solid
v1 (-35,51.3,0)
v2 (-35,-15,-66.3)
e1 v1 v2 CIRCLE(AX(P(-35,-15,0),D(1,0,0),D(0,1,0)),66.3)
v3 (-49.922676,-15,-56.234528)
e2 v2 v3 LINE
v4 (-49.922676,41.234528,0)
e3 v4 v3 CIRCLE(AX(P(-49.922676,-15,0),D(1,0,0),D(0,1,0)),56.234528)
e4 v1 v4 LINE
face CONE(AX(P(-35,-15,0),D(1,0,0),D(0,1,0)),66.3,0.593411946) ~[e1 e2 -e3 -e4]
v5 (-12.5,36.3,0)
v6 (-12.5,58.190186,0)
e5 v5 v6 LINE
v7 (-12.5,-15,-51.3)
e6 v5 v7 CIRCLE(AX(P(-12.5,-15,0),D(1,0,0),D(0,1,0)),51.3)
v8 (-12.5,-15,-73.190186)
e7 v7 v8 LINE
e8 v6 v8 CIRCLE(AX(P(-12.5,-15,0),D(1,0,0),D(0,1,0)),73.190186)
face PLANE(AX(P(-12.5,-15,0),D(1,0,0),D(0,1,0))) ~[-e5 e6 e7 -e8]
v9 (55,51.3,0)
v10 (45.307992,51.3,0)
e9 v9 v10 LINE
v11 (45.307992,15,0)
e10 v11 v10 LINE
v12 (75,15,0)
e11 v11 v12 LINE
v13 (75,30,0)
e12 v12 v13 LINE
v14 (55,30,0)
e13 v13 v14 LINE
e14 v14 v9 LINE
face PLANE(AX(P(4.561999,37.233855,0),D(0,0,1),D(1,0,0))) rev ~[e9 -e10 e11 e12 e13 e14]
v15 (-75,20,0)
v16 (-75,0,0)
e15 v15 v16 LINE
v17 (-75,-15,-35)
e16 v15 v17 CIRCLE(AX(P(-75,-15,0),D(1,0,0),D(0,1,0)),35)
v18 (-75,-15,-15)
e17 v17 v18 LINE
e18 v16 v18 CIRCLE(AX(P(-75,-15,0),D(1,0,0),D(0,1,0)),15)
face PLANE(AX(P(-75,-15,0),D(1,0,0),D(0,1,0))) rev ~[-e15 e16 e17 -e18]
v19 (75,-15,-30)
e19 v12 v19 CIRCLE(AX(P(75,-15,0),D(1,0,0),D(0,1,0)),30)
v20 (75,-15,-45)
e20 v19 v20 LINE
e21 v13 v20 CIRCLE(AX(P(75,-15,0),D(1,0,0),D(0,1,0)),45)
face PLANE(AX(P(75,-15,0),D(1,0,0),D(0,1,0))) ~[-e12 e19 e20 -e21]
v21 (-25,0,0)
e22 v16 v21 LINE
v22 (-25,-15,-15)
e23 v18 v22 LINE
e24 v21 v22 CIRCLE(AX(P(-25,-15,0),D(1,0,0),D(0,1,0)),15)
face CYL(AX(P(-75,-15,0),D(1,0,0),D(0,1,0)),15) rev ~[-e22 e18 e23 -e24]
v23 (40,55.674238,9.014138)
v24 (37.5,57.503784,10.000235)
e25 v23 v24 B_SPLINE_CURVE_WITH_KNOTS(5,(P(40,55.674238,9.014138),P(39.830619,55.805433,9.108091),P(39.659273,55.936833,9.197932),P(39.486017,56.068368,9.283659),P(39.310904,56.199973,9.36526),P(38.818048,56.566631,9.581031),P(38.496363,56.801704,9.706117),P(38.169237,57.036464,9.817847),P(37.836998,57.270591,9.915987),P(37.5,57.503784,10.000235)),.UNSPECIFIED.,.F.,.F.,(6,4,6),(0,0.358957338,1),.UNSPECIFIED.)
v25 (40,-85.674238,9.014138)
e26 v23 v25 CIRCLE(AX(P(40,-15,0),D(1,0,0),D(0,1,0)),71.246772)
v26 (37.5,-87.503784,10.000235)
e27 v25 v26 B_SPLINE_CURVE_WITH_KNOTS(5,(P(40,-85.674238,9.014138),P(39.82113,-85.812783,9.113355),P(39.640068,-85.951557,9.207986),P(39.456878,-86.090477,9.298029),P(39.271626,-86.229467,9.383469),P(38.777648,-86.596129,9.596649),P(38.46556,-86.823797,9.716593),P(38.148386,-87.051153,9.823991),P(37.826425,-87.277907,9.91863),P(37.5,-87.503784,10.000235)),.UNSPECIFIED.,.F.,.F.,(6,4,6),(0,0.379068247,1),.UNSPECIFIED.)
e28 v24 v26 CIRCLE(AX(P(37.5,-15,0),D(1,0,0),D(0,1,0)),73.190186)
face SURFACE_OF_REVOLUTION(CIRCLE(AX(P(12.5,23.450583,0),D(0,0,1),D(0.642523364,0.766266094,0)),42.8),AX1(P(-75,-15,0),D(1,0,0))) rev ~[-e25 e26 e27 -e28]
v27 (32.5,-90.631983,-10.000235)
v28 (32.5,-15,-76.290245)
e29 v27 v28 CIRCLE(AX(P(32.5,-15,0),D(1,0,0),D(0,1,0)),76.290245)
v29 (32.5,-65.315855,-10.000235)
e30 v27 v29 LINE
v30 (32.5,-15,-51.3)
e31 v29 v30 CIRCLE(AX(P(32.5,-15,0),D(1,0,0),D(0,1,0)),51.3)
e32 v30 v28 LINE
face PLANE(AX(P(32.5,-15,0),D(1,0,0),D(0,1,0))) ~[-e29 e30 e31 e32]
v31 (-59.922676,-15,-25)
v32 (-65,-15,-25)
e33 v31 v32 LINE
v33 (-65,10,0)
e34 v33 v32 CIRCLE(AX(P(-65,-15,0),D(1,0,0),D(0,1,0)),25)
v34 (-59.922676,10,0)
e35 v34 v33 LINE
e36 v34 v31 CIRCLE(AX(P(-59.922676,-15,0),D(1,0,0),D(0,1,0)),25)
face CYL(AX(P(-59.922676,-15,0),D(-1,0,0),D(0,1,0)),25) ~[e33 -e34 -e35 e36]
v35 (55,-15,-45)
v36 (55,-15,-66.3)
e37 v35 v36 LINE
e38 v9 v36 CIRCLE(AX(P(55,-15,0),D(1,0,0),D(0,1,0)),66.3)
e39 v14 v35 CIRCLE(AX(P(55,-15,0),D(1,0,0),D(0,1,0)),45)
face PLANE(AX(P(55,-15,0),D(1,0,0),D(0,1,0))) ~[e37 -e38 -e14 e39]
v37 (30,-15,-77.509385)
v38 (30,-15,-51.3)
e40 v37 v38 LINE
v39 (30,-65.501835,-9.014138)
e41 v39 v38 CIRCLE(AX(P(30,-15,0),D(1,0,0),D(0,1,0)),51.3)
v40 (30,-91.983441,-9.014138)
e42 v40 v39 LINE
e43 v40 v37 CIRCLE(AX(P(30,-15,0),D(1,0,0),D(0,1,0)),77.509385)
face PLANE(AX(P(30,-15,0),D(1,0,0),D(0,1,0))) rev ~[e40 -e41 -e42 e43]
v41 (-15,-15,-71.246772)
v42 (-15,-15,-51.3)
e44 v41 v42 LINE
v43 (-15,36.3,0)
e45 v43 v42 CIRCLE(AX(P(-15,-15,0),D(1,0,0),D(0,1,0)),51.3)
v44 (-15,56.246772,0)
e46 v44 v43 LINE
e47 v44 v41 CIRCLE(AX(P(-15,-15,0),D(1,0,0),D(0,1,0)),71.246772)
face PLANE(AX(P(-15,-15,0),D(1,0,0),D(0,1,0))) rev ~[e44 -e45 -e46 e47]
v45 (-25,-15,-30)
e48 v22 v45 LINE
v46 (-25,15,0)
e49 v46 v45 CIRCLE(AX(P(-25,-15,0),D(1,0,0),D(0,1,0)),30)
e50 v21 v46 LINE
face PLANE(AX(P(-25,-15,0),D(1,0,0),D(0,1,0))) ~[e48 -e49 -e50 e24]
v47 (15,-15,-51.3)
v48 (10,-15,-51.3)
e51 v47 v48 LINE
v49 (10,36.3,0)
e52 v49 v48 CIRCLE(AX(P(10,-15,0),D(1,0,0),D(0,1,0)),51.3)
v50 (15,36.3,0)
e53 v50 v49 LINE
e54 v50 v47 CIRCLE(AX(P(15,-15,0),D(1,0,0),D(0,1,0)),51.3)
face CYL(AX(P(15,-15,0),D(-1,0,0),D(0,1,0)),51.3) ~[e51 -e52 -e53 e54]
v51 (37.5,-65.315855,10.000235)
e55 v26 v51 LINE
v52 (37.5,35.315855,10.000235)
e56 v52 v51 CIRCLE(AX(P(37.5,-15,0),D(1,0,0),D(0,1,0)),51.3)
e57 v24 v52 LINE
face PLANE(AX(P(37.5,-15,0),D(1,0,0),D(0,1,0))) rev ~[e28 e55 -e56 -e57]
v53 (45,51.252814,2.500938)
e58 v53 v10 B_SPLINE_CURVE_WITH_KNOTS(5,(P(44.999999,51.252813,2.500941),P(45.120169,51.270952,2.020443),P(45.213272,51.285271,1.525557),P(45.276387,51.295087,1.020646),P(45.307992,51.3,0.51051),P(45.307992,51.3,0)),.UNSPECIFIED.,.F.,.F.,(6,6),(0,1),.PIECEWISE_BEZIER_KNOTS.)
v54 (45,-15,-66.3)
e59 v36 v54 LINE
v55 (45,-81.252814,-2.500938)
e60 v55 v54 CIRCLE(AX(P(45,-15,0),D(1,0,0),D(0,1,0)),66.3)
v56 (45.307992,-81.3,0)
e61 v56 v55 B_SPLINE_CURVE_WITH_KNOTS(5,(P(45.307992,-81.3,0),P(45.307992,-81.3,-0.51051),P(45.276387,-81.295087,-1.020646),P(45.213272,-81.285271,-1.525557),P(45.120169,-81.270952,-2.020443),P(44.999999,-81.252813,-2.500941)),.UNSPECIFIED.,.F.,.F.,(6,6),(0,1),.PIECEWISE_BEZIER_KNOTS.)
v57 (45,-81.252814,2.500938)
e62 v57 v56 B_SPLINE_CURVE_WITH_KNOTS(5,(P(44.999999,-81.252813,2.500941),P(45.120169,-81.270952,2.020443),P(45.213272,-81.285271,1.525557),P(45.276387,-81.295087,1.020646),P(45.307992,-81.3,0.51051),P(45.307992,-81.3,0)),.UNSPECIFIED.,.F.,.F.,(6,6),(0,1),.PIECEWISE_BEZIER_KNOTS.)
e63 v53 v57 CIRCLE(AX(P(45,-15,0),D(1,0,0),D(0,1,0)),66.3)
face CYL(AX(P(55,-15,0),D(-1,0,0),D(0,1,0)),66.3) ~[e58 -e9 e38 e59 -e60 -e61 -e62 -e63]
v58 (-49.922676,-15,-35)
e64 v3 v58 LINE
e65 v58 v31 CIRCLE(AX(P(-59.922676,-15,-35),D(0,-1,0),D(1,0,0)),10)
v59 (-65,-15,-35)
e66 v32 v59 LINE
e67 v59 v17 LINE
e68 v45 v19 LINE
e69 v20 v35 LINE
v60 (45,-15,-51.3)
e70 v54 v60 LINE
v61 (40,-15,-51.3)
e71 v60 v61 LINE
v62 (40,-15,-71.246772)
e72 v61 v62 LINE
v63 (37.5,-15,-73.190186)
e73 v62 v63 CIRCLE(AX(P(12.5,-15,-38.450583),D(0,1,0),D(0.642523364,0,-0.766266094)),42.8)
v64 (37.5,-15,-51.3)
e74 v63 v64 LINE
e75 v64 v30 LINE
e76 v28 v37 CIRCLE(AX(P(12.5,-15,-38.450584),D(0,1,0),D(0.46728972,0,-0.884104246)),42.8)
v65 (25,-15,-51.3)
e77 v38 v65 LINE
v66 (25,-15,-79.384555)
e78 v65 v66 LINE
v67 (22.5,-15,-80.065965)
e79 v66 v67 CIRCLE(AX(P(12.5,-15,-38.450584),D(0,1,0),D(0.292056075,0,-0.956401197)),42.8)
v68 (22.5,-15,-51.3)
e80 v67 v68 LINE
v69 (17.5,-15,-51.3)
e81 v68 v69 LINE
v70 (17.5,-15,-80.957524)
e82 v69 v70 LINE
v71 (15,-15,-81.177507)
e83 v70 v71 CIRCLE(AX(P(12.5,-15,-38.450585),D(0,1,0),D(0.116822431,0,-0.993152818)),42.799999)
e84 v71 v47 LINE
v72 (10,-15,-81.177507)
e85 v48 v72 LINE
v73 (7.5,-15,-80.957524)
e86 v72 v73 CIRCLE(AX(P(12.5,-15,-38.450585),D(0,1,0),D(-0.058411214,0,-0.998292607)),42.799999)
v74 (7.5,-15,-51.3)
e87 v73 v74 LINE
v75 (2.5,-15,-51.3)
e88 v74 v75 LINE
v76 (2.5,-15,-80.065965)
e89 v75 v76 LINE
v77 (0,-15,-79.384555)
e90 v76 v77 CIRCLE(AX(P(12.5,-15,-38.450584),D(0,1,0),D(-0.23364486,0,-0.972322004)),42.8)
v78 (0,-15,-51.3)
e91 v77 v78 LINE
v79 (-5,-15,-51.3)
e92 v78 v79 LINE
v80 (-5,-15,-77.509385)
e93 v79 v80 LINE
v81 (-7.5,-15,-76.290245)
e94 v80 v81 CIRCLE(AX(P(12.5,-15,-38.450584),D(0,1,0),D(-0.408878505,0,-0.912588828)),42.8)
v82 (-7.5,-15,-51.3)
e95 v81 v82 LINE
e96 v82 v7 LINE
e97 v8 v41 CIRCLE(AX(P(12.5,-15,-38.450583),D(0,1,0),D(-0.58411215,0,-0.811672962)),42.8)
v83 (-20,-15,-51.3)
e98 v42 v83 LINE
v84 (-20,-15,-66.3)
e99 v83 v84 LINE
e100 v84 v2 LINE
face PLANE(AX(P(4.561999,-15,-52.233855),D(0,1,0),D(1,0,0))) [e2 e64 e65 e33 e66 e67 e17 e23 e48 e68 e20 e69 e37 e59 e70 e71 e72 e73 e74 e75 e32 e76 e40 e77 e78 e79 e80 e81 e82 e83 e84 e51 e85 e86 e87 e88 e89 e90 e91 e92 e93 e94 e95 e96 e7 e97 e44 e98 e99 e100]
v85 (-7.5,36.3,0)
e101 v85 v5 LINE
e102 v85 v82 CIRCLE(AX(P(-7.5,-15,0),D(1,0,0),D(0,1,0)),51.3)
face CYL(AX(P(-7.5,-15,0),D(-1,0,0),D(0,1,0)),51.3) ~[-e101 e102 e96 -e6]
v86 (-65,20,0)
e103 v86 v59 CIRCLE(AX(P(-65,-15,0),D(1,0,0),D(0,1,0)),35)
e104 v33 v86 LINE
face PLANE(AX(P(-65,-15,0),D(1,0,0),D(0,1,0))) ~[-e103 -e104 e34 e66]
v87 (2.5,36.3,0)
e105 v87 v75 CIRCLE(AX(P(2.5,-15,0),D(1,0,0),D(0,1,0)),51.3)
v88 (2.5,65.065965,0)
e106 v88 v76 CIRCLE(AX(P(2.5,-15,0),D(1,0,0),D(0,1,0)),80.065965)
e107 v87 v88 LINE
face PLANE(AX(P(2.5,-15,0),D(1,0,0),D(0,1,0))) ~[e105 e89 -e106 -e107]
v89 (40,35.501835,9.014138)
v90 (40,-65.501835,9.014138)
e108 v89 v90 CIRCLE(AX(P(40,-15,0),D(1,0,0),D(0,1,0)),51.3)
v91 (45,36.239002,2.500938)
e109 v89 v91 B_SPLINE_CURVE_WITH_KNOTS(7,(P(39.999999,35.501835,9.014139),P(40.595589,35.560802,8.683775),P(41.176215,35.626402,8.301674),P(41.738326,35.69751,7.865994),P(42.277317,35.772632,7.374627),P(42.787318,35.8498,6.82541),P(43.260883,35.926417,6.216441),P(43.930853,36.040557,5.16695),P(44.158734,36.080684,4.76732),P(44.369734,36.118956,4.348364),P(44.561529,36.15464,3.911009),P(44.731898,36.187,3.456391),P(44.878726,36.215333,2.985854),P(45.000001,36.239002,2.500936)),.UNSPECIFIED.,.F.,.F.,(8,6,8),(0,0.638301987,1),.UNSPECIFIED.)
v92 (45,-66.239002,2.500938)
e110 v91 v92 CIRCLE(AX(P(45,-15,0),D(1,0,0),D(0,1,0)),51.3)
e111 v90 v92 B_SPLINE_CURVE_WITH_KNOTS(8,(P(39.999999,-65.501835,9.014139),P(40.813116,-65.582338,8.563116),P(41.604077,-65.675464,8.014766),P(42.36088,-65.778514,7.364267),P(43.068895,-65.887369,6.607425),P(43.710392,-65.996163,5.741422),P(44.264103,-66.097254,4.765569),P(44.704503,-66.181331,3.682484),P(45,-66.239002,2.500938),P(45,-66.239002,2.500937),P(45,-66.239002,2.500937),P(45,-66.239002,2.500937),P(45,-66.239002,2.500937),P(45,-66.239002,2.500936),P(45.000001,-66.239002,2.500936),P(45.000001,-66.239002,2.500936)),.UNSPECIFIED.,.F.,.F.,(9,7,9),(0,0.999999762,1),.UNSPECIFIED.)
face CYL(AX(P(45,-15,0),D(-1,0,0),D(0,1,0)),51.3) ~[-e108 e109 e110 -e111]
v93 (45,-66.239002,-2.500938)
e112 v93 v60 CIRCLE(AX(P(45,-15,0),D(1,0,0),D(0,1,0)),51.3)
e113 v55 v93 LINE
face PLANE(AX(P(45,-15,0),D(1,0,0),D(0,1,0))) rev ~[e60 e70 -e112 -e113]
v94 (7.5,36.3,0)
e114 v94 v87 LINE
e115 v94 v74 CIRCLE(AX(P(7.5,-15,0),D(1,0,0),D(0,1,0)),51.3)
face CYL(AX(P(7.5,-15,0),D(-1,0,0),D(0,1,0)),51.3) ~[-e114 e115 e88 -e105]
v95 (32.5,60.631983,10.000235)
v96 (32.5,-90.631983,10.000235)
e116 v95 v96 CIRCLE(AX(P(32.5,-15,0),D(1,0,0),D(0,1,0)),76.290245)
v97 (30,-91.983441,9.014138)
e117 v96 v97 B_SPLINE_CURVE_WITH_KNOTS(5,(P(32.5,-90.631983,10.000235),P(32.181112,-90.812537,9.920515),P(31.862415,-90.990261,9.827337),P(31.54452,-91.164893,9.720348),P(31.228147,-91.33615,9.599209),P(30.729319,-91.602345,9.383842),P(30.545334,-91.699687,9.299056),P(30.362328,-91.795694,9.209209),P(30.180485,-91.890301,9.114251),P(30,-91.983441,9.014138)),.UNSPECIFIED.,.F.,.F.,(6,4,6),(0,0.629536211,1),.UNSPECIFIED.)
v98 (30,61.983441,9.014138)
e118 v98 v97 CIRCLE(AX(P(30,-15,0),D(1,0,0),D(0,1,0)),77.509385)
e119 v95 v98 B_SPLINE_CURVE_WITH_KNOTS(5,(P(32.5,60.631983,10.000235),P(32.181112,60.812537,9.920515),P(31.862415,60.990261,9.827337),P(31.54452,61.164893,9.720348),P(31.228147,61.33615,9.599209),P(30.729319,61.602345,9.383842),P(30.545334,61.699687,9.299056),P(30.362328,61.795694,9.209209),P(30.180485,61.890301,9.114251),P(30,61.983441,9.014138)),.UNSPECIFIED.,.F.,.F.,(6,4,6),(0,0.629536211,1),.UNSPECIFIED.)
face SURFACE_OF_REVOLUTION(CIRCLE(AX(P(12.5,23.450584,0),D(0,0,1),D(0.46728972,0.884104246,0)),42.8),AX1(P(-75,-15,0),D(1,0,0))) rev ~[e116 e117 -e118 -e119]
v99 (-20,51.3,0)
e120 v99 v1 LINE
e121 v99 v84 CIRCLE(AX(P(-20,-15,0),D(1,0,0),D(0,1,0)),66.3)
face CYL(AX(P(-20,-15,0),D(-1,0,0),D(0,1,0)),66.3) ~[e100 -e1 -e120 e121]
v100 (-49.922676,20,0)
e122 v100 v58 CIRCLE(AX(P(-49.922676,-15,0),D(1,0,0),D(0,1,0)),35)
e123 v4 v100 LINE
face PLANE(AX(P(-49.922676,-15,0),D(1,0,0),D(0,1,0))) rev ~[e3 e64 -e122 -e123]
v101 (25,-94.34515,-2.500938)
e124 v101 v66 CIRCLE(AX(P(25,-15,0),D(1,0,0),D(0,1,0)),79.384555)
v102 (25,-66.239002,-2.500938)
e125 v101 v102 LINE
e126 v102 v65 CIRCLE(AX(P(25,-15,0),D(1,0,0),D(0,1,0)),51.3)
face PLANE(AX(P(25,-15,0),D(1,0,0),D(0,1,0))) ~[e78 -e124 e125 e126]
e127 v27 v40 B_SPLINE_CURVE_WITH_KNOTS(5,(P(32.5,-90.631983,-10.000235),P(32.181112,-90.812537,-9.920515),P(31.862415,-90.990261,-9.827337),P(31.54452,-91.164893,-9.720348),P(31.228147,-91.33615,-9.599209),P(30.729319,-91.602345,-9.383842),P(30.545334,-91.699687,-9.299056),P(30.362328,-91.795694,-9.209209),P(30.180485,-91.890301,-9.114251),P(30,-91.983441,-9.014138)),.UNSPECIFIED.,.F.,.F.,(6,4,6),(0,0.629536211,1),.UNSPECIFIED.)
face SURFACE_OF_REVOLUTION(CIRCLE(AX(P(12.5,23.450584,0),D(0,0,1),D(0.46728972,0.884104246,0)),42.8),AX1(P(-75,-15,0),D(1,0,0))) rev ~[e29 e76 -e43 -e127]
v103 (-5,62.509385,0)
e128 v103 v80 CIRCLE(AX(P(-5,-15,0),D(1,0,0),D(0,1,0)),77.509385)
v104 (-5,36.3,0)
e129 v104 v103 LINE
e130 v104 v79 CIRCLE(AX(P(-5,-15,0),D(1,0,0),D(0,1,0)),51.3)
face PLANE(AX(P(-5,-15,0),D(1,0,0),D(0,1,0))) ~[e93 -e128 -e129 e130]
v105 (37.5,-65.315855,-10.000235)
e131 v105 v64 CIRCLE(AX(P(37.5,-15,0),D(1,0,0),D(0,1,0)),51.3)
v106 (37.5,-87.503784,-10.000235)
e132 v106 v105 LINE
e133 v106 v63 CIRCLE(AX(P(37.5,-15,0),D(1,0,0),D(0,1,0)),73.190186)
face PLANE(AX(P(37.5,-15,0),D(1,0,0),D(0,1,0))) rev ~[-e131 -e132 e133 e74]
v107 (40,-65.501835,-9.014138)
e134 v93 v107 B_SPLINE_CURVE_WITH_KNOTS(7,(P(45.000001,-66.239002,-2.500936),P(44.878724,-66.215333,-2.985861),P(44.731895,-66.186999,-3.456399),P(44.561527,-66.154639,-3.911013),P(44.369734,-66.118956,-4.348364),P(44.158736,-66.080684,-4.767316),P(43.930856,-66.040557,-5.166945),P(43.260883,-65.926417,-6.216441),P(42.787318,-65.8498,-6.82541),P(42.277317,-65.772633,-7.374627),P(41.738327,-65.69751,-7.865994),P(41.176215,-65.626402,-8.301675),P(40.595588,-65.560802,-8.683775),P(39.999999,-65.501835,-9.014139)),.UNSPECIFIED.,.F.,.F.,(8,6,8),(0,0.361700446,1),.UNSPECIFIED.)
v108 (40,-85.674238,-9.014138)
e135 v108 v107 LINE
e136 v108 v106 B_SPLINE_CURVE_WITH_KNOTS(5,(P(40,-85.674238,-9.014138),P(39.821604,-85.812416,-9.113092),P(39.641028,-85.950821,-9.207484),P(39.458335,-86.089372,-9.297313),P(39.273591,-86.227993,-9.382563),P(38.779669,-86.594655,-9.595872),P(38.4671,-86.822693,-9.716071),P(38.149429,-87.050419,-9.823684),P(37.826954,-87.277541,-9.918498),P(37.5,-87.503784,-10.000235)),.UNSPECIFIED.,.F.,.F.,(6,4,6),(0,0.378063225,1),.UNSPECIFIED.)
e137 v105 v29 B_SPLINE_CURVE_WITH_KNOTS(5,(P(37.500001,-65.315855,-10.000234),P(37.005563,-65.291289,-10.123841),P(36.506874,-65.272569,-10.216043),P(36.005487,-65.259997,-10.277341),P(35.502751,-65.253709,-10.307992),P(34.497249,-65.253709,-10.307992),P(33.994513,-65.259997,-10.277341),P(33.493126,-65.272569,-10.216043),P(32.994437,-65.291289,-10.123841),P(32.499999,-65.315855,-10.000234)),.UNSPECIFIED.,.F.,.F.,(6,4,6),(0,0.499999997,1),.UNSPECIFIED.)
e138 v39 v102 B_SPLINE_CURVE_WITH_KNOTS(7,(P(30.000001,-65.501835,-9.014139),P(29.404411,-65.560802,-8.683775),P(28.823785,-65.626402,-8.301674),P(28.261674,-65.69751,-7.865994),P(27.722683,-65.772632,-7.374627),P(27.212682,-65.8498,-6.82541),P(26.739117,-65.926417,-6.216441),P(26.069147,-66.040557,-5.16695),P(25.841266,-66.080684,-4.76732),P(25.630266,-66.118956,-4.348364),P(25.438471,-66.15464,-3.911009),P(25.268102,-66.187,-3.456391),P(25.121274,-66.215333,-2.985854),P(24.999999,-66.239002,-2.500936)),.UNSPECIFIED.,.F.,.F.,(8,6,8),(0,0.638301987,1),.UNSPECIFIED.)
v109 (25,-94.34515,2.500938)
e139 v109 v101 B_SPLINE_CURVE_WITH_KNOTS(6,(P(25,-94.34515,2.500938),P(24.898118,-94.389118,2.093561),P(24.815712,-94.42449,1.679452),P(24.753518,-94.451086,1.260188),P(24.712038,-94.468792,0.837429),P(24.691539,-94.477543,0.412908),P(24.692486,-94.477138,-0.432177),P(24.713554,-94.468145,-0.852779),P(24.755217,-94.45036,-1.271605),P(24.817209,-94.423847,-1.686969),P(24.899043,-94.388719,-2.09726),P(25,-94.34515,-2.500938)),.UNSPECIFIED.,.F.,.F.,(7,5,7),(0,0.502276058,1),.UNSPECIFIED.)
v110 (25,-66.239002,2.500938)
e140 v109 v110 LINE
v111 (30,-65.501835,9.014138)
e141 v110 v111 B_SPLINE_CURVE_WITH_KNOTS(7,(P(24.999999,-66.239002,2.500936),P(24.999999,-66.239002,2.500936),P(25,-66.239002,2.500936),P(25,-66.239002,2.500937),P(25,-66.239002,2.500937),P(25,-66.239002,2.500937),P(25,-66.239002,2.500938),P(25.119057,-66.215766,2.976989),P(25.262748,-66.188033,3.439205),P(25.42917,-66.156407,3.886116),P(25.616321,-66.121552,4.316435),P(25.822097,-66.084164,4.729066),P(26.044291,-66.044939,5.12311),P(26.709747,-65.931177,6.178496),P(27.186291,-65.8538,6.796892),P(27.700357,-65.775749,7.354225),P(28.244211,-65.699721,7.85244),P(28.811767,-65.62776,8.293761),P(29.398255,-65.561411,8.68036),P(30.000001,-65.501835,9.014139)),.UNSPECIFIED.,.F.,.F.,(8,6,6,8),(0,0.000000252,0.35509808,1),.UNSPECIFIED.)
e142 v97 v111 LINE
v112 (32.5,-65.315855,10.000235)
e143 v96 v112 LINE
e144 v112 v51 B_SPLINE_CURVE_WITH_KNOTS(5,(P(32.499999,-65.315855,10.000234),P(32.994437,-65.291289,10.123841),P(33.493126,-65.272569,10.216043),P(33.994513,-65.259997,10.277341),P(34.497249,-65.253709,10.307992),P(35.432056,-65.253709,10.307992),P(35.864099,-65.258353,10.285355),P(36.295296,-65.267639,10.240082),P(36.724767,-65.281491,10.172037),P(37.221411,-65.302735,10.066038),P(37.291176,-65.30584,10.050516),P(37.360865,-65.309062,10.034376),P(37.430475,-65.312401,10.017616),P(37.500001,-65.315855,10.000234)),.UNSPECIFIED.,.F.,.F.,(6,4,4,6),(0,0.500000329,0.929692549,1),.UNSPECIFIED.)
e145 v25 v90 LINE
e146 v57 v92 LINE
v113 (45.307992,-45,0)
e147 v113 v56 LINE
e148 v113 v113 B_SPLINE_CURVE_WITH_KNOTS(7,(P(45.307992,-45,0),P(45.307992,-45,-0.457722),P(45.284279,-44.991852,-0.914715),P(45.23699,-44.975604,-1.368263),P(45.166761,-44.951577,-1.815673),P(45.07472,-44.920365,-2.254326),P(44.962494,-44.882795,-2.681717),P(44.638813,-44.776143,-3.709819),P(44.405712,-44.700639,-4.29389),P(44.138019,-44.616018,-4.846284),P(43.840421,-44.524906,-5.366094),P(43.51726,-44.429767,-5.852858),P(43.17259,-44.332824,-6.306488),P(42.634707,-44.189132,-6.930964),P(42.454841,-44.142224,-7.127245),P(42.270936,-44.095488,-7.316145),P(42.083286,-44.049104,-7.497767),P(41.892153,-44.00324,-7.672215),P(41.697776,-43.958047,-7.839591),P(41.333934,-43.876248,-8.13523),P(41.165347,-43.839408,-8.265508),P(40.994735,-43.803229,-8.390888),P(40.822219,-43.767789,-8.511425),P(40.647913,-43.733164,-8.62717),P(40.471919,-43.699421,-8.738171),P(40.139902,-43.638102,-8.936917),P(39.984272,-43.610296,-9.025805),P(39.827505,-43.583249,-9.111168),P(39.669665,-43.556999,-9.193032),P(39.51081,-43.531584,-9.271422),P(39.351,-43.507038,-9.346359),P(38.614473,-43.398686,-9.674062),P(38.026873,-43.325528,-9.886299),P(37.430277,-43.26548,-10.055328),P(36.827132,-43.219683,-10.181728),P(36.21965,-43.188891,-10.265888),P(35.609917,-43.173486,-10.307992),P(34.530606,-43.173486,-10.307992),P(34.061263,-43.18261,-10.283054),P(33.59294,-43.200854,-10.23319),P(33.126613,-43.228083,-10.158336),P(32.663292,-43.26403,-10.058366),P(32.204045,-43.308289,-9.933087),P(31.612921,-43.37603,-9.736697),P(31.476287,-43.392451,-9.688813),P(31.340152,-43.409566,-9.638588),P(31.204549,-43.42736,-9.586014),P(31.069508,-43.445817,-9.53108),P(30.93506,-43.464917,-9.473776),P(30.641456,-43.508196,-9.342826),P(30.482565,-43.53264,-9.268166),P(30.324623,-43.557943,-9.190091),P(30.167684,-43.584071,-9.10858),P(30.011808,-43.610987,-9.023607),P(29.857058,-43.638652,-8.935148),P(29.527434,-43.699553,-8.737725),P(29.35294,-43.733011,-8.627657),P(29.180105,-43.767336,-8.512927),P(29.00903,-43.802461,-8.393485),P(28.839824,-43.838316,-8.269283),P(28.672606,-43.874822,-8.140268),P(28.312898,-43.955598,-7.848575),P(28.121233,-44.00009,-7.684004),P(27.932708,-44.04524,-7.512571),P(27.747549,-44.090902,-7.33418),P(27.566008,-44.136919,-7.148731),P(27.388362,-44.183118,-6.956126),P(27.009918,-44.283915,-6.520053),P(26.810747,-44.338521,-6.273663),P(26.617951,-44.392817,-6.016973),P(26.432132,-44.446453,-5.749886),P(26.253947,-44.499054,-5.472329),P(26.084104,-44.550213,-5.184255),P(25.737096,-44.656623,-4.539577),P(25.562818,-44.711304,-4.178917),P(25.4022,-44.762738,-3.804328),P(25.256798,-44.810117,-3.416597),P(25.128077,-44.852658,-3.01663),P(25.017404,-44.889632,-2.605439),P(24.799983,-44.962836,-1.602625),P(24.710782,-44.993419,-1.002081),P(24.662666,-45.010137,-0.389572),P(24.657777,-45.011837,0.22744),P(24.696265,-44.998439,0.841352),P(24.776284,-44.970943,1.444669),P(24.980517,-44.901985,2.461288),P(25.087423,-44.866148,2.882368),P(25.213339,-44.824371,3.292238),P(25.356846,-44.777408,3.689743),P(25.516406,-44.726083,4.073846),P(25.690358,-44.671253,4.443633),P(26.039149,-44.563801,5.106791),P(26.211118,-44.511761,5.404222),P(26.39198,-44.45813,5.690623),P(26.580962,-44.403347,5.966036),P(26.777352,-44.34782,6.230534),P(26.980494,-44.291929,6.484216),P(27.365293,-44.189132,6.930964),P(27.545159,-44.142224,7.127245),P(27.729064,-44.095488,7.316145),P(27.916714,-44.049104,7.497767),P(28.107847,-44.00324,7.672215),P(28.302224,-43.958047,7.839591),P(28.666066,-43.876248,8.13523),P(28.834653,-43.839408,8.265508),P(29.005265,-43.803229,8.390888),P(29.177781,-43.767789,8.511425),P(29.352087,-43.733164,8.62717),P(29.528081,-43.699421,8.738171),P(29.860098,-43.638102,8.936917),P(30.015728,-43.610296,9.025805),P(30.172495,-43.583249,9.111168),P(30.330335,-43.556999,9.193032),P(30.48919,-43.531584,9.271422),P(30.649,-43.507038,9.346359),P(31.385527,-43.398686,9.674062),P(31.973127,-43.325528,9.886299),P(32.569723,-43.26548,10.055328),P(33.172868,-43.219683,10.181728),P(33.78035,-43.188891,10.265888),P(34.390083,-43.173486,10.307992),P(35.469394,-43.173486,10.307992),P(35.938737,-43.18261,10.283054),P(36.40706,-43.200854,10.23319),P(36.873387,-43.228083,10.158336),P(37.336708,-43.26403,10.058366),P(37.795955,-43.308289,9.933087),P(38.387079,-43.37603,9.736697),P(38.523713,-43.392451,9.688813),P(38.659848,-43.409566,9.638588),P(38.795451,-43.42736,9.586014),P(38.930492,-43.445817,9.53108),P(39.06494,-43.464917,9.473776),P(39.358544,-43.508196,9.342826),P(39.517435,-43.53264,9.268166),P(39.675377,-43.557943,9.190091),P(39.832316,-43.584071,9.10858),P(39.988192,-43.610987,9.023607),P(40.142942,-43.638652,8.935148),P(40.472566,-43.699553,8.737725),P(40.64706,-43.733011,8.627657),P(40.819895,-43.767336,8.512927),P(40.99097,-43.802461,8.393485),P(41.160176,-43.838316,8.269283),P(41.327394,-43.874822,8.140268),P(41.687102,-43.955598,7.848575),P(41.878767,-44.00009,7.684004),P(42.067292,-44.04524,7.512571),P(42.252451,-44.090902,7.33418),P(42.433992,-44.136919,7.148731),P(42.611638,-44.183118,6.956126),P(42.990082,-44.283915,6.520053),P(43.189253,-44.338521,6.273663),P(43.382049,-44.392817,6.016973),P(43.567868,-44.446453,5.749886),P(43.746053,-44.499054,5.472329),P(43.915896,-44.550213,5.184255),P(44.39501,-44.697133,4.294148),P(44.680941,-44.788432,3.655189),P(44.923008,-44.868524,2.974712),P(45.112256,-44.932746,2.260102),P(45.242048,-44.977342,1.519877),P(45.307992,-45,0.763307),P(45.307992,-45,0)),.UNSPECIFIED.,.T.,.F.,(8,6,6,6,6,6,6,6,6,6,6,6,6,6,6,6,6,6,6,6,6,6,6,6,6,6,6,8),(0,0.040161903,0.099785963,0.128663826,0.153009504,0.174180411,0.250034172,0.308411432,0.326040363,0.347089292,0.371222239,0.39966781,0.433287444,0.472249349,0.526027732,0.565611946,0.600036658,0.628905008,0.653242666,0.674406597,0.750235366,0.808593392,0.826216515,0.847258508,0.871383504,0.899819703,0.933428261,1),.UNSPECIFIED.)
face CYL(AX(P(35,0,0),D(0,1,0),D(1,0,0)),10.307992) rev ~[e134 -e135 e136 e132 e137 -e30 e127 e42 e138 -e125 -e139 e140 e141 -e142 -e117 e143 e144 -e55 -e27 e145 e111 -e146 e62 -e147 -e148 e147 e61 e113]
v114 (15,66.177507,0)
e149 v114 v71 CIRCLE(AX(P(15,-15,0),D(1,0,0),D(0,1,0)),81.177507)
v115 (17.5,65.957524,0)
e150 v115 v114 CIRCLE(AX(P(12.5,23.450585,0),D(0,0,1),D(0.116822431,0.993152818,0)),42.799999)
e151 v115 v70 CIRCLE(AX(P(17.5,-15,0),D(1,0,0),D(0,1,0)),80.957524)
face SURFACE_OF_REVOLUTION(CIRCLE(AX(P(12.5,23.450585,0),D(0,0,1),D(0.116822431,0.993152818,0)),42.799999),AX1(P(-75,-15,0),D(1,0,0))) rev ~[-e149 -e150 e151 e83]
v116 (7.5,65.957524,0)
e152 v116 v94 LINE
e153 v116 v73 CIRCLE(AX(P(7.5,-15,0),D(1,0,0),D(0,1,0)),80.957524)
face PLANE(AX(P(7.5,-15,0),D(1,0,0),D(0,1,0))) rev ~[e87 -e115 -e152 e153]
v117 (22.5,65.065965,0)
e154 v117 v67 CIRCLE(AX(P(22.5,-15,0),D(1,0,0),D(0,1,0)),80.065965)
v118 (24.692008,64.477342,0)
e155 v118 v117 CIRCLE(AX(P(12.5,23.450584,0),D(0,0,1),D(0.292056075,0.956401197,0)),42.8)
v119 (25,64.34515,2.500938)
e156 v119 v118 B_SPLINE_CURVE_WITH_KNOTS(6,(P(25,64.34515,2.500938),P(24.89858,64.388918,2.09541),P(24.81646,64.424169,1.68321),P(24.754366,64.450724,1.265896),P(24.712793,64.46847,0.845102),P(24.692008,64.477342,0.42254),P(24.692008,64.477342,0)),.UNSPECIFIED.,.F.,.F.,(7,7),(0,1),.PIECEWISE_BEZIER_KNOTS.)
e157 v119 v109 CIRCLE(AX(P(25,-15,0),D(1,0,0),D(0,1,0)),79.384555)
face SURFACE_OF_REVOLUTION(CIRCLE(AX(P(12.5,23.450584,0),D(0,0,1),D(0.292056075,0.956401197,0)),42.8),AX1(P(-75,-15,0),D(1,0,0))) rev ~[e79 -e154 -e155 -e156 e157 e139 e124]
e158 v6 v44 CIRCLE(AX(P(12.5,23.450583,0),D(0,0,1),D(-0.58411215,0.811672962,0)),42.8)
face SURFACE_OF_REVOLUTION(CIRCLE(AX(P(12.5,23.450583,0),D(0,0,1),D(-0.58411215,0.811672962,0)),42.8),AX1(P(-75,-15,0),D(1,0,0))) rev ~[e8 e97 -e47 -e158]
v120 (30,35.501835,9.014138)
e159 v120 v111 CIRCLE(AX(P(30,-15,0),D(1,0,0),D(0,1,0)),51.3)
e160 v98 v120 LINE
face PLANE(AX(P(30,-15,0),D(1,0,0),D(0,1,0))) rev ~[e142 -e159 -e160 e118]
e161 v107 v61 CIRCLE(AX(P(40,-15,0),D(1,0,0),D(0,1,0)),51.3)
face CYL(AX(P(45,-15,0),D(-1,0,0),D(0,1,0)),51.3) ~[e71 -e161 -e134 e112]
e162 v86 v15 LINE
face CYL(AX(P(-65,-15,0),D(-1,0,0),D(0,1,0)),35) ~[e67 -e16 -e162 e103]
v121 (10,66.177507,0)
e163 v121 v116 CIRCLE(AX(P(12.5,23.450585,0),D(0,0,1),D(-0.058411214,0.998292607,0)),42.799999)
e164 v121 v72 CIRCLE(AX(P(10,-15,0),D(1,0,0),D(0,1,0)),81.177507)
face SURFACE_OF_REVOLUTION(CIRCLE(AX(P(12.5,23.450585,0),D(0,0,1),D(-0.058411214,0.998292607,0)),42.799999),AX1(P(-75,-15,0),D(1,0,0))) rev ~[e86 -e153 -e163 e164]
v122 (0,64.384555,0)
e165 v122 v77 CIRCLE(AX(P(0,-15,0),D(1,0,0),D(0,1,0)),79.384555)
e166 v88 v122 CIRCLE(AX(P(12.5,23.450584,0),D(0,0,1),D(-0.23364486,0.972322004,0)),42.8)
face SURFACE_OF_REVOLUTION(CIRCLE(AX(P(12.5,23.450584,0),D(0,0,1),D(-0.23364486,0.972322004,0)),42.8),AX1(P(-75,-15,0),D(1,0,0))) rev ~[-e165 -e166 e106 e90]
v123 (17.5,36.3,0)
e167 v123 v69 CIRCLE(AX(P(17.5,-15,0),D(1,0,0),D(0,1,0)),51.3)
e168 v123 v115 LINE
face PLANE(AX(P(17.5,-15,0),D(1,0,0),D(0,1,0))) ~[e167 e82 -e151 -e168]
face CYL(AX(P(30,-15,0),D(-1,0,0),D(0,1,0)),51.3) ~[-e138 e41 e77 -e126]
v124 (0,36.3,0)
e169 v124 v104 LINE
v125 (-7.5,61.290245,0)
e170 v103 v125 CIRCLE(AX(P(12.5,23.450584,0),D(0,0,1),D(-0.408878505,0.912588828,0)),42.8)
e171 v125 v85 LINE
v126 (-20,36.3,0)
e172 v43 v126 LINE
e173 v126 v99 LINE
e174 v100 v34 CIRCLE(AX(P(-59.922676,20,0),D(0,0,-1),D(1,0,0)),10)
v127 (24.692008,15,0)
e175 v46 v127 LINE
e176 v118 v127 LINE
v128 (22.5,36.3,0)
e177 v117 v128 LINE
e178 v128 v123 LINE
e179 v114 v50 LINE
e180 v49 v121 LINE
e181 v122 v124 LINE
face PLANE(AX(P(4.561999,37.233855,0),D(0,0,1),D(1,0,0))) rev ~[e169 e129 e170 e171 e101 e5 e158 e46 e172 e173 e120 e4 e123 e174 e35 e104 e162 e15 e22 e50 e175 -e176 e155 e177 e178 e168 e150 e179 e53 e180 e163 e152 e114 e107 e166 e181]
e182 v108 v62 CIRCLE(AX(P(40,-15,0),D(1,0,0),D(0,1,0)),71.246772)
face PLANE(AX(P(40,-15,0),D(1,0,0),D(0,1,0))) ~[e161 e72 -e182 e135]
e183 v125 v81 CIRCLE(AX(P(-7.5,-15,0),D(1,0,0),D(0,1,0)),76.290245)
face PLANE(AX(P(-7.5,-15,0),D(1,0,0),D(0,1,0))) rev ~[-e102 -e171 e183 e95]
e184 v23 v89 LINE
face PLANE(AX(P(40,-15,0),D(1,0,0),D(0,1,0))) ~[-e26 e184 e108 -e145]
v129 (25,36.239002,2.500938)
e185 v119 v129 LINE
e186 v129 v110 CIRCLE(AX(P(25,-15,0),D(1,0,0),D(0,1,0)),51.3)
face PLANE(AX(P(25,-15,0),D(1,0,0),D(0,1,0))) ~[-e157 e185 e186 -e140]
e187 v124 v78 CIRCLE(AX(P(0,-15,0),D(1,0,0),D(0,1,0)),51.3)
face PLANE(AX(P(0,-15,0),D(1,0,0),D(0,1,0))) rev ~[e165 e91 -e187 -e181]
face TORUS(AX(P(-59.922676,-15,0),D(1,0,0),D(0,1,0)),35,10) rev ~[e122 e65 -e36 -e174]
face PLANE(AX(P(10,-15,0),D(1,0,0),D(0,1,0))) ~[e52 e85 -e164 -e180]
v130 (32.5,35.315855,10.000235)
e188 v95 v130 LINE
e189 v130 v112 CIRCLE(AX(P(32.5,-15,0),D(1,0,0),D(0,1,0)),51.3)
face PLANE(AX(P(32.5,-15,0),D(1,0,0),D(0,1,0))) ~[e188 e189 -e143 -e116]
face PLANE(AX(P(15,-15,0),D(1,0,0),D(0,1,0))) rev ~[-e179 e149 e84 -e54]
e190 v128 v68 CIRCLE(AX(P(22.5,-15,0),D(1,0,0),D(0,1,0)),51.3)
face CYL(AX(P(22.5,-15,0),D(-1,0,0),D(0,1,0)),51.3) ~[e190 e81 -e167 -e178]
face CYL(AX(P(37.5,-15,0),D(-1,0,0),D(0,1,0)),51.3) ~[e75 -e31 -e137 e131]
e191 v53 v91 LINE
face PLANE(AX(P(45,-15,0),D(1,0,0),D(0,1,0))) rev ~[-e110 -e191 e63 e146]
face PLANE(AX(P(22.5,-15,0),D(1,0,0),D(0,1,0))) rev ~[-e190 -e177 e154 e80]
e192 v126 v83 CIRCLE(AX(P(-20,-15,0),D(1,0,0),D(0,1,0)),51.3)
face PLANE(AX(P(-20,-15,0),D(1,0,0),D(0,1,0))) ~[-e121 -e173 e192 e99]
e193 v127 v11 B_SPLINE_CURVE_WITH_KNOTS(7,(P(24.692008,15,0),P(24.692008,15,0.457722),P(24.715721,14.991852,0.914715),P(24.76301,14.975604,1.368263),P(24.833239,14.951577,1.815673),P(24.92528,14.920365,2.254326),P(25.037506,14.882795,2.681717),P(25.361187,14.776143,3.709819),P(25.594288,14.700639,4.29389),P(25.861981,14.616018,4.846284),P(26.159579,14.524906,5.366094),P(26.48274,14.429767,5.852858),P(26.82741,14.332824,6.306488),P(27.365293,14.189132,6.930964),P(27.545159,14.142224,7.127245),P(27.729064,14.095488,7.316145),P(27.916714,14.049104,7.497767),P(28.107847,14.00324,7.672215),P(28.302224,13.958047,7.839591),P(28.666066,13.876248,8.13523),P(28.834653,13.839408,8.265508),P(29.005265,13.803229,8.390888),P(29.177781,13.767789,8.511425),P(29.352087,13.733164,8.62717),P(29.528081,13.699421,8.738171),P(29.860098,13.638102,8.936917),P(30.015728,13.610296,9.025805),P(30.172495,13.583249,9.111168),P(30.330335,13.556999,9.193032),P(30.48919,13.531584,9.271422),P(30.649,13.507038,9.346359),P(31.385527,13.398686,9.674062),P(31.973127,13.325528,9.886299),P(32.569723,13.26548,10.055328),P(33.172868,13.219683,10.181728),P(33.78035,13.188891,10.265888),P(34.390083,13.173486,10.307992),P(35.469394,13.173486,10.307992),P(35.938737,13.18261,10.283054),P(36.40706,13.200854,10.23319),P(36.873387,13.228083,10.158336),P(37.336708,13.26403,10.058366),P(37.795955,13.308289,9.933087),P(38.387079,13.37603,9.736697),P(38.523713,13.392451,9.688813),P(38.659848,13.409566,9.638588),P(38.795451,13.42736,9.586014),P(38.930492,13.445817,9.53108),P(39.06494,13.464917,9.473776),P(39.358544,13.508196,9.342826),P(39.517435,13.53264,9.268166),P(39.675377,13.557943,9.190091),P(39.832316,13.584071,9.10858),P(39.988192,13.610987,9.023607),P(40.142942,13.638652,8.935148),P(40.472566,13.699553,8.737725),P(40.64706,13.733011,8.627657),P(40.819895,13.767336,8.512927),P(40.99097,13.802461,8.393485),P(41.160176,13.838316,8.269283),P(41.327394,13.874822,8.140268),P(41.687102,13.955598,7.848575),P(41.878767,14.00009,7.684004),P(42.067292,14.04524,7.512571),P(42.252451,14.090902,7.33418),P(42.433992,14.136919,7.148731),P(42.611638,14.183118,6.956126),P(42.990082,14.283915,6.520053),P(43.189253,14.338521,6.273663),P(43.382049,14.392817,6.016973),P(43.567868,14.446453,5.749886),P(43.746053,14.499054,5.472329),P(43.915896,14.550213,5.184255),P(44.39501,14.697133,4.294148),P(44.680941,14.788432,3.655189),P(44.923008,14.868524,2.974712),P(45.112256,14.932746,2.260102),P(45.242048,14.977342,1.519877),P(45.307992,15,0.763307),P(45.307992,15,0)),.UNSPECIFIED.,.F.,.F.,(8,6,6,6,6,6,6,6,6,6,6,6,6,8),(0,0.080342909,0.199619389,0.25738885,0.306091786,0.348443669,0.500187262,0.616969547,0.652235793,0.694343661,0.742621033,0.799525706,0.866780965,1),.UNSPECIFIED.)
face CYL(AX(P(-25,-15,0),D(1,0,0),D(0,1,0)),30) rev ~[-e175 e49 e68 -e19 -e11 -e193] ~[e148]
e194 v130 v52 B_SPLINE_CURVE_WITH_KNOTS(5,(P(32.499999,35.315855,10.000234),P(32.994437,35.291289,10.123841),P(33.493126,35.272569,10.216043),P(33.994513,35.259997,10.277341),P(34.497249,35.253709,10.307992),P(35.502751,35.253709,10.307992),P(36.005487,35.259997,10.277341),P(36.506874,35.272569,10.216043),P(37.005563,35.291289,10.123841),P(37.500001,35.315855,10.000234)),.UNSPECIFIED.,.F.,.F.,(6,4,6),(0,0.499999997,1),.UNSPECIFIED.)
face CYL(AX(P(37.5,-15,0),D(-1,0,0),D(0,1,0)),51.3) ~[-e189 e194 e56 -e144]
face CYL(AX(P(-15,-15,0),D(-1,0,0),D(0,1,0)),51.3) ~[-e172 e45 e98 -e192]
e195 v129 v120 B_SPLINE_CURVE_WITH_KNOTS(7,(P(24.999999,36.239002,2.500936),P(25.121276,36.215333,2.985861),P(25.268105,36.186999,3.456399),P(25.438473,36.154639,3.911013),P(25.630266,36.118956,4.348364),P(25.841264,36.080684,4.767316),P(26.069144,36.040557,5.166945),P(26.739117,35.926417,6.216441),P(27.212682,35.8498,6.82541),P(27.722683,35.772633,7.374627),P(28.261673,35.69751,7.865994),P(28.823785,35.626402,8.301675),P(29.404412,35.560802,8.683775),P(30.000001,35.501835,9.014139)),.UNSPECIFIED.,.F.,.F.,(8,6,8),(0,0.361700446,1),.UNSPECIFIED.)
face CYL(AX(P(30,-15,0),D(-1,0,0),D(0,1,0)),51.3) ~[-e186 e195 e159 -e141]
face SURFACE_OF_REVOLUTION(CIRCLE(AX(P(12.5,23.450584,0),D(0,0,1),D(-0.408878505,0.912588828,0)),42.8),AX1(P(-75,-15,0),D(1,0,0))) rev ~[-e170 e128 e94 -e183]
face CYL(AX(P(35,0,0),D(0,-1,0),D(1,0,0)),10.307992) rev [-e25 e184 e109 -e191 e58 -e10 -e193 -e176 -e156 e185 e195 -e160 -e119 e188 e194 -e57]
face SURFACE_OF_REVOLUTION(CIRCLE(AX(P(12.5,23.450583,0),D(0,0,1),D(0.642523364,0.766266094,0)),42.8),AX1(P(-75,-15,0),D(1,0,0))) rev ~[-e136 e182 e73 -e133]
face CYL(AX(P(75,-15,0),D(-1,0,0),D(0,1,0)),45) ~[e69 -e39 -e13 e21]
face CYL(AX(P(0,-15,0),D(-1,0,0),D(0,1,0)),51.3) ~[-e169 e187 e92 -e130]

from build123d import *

# Parameters (mm, degrees)
REVOLUCI_N2_ANGLE     = 270
CROQUIS12_R           = 10.307991632
CORTAR_EXTRUIR1_DEPTH = 67.177507085
CROQUIS12_2_R         = 10.307991632
CORTAR_EXTRUIR2_DEPTH = 97.177507085


with BuildPart() as part:
    # Croquis2 → Revolución2 (revolve)
    with BuildSketch(Plane.XY):
        with BuildLine():
            Line((-25, 0), (-25, 15))
            Line((-25, 15), (75, 15))
            Line((75, 15), (75, 30))
            Line((75, 30), (55, 30))
            Line((55, 30), (55, 51.3))
            Line((55, 51.3), (45, 51.3))
            Line((45, 51.3), (45, 36.3))
            Line((45, 36.3), (40, 36.3))
            Line((40, 36.3), (40, 56.246772292))
            ThreePointArc((40, 56.246772292), (38.76797888, 57.241607231), (37.5, 58.19018625))
            Line((37.5, 58.19018625), (37.5, 36.3))
            Line((37.5, 36.3), (32.5, 36.3))
            Line((32.5, 36.3), (32.5, 61.290245221))
            ThreePointArc((32.5, 61.290245221), (31.259906067, 61.920128903), (30, 62.509385314))
            Line((30, 62.509385314), (30, 36.3))
            Line((30, 36.3), (25, 36.3))
            Line((25, 36.3), (25, 64.384554711))
            ThreePointArc((25, 64.384554711), (23.755157932, 64.744183719), (22.5, 65.065965261))
            Line((22.5, 65.065965261), (22.5, 36.3))
            Line((22.5, 36.3), (17.5, 36.3))
            Line((17.5, 36.3), (17.5, 65.957524099))
            ThreePointArc((17.5, 65.957524099), (16.251612737, 66.085843567), (15, 66.177507085))
            Line((15, 66.177507085), (15, 36.3))
            Line((15, 36.3), (10, 36.3))
            Line((10, 36.3), (10, 66.177507085))
            ThreePointArc((10, 66.177507085), (8.748387263, 66.085843567), (7.5, 65.957524099))
            Line((7.5, 65.957524099), (7.5, 36.3))
            Line((7.5, 36.3), (2.5, 36.3))
            Line((2.5, 36.3), (2.5, 65.065965261))
            ThreePointArc((2.5, 65.065965261), (1.244842068, 64.744183719), (0, 64.384554711))
            Line((0, 64.384554711), (0, 36.3))
            Line((0, 36.3), (-5, 36.3))
            Line((-5, 36.3), (-5, 62.509385314))
            ThreePointArc((-5, 62.509385314), (-6.259906067, 61.920128903), (-7.5, 61.290245221))
            Line((-7.5, 61.290245221), (-7.5, 36.3))
            Line((-7.5, 36.3), (-12.5, 36.3))
            Line((-12.5, 36.3), (-12.5, 58.19018625))
            ThreePointArc((-12.5, 58.19018625), (-13.76797888, 57.241607231), (-15, 56.246772292))
            Line((-15, 56.246772292), (-15, 36.3))
            Line((-15, 36.3), (-20, 36.3))
            Line((-20, 36.3), (-20, 51.3))
            Line((-20, 51.3), (-35, 51.3))
            Line((-35, 51.3), (-49.922676306, 41.234527738))
            Line((-49.922676306, 41.234527738), (-49.922676306, 20))
            ThreePointArc((-49.922676306, 20), (-52.851608494, 12.928932188), (-59.922676306, 10))
            Line((-59.922676306, 10), (-65, 10))
            Line((-65, 10), (-65, 20))
            Line((-65, 20), (-75, 20))
            Line((-75, 20), (-75, 0))
            Line((-75, 0), (-25, 0))
        make_face()
    revolve(axis=Axis((-75, -15, 0), (1, 0, 0)), revolution_arc=REVOLUCI_N2_ANGLE)

    # Croquis12 → Cortar-Extruir1 (cut, through all)
    with BuildSketch(Plane(origin=(0, 0, 0), x_dir=(1, 0, 0), z_dir=(0, 1, 0))):
        with Locations((35, 0)):
            Circle(CROQUIS12_R)
    extrude(amount=CORTAR_EXTRUIR1_DEPTH, mode=Mode.SUBTRACT)

    # Croquis12<2> → Cortar-Extruir2 (cut, through all)
    with BuildSketch(Plane(origin=(0, 0, 0), x_dir=(1, 0, 0), z_dir=(0, 1, 0))):
        with Locations((35, 0)):
            Circle(CROQUIS12_2_R)
    extrude(amount=-CORTAR_EXTRUIR2_DEPTH, mode=Mode.SUBTRACT)


solid = part.part
